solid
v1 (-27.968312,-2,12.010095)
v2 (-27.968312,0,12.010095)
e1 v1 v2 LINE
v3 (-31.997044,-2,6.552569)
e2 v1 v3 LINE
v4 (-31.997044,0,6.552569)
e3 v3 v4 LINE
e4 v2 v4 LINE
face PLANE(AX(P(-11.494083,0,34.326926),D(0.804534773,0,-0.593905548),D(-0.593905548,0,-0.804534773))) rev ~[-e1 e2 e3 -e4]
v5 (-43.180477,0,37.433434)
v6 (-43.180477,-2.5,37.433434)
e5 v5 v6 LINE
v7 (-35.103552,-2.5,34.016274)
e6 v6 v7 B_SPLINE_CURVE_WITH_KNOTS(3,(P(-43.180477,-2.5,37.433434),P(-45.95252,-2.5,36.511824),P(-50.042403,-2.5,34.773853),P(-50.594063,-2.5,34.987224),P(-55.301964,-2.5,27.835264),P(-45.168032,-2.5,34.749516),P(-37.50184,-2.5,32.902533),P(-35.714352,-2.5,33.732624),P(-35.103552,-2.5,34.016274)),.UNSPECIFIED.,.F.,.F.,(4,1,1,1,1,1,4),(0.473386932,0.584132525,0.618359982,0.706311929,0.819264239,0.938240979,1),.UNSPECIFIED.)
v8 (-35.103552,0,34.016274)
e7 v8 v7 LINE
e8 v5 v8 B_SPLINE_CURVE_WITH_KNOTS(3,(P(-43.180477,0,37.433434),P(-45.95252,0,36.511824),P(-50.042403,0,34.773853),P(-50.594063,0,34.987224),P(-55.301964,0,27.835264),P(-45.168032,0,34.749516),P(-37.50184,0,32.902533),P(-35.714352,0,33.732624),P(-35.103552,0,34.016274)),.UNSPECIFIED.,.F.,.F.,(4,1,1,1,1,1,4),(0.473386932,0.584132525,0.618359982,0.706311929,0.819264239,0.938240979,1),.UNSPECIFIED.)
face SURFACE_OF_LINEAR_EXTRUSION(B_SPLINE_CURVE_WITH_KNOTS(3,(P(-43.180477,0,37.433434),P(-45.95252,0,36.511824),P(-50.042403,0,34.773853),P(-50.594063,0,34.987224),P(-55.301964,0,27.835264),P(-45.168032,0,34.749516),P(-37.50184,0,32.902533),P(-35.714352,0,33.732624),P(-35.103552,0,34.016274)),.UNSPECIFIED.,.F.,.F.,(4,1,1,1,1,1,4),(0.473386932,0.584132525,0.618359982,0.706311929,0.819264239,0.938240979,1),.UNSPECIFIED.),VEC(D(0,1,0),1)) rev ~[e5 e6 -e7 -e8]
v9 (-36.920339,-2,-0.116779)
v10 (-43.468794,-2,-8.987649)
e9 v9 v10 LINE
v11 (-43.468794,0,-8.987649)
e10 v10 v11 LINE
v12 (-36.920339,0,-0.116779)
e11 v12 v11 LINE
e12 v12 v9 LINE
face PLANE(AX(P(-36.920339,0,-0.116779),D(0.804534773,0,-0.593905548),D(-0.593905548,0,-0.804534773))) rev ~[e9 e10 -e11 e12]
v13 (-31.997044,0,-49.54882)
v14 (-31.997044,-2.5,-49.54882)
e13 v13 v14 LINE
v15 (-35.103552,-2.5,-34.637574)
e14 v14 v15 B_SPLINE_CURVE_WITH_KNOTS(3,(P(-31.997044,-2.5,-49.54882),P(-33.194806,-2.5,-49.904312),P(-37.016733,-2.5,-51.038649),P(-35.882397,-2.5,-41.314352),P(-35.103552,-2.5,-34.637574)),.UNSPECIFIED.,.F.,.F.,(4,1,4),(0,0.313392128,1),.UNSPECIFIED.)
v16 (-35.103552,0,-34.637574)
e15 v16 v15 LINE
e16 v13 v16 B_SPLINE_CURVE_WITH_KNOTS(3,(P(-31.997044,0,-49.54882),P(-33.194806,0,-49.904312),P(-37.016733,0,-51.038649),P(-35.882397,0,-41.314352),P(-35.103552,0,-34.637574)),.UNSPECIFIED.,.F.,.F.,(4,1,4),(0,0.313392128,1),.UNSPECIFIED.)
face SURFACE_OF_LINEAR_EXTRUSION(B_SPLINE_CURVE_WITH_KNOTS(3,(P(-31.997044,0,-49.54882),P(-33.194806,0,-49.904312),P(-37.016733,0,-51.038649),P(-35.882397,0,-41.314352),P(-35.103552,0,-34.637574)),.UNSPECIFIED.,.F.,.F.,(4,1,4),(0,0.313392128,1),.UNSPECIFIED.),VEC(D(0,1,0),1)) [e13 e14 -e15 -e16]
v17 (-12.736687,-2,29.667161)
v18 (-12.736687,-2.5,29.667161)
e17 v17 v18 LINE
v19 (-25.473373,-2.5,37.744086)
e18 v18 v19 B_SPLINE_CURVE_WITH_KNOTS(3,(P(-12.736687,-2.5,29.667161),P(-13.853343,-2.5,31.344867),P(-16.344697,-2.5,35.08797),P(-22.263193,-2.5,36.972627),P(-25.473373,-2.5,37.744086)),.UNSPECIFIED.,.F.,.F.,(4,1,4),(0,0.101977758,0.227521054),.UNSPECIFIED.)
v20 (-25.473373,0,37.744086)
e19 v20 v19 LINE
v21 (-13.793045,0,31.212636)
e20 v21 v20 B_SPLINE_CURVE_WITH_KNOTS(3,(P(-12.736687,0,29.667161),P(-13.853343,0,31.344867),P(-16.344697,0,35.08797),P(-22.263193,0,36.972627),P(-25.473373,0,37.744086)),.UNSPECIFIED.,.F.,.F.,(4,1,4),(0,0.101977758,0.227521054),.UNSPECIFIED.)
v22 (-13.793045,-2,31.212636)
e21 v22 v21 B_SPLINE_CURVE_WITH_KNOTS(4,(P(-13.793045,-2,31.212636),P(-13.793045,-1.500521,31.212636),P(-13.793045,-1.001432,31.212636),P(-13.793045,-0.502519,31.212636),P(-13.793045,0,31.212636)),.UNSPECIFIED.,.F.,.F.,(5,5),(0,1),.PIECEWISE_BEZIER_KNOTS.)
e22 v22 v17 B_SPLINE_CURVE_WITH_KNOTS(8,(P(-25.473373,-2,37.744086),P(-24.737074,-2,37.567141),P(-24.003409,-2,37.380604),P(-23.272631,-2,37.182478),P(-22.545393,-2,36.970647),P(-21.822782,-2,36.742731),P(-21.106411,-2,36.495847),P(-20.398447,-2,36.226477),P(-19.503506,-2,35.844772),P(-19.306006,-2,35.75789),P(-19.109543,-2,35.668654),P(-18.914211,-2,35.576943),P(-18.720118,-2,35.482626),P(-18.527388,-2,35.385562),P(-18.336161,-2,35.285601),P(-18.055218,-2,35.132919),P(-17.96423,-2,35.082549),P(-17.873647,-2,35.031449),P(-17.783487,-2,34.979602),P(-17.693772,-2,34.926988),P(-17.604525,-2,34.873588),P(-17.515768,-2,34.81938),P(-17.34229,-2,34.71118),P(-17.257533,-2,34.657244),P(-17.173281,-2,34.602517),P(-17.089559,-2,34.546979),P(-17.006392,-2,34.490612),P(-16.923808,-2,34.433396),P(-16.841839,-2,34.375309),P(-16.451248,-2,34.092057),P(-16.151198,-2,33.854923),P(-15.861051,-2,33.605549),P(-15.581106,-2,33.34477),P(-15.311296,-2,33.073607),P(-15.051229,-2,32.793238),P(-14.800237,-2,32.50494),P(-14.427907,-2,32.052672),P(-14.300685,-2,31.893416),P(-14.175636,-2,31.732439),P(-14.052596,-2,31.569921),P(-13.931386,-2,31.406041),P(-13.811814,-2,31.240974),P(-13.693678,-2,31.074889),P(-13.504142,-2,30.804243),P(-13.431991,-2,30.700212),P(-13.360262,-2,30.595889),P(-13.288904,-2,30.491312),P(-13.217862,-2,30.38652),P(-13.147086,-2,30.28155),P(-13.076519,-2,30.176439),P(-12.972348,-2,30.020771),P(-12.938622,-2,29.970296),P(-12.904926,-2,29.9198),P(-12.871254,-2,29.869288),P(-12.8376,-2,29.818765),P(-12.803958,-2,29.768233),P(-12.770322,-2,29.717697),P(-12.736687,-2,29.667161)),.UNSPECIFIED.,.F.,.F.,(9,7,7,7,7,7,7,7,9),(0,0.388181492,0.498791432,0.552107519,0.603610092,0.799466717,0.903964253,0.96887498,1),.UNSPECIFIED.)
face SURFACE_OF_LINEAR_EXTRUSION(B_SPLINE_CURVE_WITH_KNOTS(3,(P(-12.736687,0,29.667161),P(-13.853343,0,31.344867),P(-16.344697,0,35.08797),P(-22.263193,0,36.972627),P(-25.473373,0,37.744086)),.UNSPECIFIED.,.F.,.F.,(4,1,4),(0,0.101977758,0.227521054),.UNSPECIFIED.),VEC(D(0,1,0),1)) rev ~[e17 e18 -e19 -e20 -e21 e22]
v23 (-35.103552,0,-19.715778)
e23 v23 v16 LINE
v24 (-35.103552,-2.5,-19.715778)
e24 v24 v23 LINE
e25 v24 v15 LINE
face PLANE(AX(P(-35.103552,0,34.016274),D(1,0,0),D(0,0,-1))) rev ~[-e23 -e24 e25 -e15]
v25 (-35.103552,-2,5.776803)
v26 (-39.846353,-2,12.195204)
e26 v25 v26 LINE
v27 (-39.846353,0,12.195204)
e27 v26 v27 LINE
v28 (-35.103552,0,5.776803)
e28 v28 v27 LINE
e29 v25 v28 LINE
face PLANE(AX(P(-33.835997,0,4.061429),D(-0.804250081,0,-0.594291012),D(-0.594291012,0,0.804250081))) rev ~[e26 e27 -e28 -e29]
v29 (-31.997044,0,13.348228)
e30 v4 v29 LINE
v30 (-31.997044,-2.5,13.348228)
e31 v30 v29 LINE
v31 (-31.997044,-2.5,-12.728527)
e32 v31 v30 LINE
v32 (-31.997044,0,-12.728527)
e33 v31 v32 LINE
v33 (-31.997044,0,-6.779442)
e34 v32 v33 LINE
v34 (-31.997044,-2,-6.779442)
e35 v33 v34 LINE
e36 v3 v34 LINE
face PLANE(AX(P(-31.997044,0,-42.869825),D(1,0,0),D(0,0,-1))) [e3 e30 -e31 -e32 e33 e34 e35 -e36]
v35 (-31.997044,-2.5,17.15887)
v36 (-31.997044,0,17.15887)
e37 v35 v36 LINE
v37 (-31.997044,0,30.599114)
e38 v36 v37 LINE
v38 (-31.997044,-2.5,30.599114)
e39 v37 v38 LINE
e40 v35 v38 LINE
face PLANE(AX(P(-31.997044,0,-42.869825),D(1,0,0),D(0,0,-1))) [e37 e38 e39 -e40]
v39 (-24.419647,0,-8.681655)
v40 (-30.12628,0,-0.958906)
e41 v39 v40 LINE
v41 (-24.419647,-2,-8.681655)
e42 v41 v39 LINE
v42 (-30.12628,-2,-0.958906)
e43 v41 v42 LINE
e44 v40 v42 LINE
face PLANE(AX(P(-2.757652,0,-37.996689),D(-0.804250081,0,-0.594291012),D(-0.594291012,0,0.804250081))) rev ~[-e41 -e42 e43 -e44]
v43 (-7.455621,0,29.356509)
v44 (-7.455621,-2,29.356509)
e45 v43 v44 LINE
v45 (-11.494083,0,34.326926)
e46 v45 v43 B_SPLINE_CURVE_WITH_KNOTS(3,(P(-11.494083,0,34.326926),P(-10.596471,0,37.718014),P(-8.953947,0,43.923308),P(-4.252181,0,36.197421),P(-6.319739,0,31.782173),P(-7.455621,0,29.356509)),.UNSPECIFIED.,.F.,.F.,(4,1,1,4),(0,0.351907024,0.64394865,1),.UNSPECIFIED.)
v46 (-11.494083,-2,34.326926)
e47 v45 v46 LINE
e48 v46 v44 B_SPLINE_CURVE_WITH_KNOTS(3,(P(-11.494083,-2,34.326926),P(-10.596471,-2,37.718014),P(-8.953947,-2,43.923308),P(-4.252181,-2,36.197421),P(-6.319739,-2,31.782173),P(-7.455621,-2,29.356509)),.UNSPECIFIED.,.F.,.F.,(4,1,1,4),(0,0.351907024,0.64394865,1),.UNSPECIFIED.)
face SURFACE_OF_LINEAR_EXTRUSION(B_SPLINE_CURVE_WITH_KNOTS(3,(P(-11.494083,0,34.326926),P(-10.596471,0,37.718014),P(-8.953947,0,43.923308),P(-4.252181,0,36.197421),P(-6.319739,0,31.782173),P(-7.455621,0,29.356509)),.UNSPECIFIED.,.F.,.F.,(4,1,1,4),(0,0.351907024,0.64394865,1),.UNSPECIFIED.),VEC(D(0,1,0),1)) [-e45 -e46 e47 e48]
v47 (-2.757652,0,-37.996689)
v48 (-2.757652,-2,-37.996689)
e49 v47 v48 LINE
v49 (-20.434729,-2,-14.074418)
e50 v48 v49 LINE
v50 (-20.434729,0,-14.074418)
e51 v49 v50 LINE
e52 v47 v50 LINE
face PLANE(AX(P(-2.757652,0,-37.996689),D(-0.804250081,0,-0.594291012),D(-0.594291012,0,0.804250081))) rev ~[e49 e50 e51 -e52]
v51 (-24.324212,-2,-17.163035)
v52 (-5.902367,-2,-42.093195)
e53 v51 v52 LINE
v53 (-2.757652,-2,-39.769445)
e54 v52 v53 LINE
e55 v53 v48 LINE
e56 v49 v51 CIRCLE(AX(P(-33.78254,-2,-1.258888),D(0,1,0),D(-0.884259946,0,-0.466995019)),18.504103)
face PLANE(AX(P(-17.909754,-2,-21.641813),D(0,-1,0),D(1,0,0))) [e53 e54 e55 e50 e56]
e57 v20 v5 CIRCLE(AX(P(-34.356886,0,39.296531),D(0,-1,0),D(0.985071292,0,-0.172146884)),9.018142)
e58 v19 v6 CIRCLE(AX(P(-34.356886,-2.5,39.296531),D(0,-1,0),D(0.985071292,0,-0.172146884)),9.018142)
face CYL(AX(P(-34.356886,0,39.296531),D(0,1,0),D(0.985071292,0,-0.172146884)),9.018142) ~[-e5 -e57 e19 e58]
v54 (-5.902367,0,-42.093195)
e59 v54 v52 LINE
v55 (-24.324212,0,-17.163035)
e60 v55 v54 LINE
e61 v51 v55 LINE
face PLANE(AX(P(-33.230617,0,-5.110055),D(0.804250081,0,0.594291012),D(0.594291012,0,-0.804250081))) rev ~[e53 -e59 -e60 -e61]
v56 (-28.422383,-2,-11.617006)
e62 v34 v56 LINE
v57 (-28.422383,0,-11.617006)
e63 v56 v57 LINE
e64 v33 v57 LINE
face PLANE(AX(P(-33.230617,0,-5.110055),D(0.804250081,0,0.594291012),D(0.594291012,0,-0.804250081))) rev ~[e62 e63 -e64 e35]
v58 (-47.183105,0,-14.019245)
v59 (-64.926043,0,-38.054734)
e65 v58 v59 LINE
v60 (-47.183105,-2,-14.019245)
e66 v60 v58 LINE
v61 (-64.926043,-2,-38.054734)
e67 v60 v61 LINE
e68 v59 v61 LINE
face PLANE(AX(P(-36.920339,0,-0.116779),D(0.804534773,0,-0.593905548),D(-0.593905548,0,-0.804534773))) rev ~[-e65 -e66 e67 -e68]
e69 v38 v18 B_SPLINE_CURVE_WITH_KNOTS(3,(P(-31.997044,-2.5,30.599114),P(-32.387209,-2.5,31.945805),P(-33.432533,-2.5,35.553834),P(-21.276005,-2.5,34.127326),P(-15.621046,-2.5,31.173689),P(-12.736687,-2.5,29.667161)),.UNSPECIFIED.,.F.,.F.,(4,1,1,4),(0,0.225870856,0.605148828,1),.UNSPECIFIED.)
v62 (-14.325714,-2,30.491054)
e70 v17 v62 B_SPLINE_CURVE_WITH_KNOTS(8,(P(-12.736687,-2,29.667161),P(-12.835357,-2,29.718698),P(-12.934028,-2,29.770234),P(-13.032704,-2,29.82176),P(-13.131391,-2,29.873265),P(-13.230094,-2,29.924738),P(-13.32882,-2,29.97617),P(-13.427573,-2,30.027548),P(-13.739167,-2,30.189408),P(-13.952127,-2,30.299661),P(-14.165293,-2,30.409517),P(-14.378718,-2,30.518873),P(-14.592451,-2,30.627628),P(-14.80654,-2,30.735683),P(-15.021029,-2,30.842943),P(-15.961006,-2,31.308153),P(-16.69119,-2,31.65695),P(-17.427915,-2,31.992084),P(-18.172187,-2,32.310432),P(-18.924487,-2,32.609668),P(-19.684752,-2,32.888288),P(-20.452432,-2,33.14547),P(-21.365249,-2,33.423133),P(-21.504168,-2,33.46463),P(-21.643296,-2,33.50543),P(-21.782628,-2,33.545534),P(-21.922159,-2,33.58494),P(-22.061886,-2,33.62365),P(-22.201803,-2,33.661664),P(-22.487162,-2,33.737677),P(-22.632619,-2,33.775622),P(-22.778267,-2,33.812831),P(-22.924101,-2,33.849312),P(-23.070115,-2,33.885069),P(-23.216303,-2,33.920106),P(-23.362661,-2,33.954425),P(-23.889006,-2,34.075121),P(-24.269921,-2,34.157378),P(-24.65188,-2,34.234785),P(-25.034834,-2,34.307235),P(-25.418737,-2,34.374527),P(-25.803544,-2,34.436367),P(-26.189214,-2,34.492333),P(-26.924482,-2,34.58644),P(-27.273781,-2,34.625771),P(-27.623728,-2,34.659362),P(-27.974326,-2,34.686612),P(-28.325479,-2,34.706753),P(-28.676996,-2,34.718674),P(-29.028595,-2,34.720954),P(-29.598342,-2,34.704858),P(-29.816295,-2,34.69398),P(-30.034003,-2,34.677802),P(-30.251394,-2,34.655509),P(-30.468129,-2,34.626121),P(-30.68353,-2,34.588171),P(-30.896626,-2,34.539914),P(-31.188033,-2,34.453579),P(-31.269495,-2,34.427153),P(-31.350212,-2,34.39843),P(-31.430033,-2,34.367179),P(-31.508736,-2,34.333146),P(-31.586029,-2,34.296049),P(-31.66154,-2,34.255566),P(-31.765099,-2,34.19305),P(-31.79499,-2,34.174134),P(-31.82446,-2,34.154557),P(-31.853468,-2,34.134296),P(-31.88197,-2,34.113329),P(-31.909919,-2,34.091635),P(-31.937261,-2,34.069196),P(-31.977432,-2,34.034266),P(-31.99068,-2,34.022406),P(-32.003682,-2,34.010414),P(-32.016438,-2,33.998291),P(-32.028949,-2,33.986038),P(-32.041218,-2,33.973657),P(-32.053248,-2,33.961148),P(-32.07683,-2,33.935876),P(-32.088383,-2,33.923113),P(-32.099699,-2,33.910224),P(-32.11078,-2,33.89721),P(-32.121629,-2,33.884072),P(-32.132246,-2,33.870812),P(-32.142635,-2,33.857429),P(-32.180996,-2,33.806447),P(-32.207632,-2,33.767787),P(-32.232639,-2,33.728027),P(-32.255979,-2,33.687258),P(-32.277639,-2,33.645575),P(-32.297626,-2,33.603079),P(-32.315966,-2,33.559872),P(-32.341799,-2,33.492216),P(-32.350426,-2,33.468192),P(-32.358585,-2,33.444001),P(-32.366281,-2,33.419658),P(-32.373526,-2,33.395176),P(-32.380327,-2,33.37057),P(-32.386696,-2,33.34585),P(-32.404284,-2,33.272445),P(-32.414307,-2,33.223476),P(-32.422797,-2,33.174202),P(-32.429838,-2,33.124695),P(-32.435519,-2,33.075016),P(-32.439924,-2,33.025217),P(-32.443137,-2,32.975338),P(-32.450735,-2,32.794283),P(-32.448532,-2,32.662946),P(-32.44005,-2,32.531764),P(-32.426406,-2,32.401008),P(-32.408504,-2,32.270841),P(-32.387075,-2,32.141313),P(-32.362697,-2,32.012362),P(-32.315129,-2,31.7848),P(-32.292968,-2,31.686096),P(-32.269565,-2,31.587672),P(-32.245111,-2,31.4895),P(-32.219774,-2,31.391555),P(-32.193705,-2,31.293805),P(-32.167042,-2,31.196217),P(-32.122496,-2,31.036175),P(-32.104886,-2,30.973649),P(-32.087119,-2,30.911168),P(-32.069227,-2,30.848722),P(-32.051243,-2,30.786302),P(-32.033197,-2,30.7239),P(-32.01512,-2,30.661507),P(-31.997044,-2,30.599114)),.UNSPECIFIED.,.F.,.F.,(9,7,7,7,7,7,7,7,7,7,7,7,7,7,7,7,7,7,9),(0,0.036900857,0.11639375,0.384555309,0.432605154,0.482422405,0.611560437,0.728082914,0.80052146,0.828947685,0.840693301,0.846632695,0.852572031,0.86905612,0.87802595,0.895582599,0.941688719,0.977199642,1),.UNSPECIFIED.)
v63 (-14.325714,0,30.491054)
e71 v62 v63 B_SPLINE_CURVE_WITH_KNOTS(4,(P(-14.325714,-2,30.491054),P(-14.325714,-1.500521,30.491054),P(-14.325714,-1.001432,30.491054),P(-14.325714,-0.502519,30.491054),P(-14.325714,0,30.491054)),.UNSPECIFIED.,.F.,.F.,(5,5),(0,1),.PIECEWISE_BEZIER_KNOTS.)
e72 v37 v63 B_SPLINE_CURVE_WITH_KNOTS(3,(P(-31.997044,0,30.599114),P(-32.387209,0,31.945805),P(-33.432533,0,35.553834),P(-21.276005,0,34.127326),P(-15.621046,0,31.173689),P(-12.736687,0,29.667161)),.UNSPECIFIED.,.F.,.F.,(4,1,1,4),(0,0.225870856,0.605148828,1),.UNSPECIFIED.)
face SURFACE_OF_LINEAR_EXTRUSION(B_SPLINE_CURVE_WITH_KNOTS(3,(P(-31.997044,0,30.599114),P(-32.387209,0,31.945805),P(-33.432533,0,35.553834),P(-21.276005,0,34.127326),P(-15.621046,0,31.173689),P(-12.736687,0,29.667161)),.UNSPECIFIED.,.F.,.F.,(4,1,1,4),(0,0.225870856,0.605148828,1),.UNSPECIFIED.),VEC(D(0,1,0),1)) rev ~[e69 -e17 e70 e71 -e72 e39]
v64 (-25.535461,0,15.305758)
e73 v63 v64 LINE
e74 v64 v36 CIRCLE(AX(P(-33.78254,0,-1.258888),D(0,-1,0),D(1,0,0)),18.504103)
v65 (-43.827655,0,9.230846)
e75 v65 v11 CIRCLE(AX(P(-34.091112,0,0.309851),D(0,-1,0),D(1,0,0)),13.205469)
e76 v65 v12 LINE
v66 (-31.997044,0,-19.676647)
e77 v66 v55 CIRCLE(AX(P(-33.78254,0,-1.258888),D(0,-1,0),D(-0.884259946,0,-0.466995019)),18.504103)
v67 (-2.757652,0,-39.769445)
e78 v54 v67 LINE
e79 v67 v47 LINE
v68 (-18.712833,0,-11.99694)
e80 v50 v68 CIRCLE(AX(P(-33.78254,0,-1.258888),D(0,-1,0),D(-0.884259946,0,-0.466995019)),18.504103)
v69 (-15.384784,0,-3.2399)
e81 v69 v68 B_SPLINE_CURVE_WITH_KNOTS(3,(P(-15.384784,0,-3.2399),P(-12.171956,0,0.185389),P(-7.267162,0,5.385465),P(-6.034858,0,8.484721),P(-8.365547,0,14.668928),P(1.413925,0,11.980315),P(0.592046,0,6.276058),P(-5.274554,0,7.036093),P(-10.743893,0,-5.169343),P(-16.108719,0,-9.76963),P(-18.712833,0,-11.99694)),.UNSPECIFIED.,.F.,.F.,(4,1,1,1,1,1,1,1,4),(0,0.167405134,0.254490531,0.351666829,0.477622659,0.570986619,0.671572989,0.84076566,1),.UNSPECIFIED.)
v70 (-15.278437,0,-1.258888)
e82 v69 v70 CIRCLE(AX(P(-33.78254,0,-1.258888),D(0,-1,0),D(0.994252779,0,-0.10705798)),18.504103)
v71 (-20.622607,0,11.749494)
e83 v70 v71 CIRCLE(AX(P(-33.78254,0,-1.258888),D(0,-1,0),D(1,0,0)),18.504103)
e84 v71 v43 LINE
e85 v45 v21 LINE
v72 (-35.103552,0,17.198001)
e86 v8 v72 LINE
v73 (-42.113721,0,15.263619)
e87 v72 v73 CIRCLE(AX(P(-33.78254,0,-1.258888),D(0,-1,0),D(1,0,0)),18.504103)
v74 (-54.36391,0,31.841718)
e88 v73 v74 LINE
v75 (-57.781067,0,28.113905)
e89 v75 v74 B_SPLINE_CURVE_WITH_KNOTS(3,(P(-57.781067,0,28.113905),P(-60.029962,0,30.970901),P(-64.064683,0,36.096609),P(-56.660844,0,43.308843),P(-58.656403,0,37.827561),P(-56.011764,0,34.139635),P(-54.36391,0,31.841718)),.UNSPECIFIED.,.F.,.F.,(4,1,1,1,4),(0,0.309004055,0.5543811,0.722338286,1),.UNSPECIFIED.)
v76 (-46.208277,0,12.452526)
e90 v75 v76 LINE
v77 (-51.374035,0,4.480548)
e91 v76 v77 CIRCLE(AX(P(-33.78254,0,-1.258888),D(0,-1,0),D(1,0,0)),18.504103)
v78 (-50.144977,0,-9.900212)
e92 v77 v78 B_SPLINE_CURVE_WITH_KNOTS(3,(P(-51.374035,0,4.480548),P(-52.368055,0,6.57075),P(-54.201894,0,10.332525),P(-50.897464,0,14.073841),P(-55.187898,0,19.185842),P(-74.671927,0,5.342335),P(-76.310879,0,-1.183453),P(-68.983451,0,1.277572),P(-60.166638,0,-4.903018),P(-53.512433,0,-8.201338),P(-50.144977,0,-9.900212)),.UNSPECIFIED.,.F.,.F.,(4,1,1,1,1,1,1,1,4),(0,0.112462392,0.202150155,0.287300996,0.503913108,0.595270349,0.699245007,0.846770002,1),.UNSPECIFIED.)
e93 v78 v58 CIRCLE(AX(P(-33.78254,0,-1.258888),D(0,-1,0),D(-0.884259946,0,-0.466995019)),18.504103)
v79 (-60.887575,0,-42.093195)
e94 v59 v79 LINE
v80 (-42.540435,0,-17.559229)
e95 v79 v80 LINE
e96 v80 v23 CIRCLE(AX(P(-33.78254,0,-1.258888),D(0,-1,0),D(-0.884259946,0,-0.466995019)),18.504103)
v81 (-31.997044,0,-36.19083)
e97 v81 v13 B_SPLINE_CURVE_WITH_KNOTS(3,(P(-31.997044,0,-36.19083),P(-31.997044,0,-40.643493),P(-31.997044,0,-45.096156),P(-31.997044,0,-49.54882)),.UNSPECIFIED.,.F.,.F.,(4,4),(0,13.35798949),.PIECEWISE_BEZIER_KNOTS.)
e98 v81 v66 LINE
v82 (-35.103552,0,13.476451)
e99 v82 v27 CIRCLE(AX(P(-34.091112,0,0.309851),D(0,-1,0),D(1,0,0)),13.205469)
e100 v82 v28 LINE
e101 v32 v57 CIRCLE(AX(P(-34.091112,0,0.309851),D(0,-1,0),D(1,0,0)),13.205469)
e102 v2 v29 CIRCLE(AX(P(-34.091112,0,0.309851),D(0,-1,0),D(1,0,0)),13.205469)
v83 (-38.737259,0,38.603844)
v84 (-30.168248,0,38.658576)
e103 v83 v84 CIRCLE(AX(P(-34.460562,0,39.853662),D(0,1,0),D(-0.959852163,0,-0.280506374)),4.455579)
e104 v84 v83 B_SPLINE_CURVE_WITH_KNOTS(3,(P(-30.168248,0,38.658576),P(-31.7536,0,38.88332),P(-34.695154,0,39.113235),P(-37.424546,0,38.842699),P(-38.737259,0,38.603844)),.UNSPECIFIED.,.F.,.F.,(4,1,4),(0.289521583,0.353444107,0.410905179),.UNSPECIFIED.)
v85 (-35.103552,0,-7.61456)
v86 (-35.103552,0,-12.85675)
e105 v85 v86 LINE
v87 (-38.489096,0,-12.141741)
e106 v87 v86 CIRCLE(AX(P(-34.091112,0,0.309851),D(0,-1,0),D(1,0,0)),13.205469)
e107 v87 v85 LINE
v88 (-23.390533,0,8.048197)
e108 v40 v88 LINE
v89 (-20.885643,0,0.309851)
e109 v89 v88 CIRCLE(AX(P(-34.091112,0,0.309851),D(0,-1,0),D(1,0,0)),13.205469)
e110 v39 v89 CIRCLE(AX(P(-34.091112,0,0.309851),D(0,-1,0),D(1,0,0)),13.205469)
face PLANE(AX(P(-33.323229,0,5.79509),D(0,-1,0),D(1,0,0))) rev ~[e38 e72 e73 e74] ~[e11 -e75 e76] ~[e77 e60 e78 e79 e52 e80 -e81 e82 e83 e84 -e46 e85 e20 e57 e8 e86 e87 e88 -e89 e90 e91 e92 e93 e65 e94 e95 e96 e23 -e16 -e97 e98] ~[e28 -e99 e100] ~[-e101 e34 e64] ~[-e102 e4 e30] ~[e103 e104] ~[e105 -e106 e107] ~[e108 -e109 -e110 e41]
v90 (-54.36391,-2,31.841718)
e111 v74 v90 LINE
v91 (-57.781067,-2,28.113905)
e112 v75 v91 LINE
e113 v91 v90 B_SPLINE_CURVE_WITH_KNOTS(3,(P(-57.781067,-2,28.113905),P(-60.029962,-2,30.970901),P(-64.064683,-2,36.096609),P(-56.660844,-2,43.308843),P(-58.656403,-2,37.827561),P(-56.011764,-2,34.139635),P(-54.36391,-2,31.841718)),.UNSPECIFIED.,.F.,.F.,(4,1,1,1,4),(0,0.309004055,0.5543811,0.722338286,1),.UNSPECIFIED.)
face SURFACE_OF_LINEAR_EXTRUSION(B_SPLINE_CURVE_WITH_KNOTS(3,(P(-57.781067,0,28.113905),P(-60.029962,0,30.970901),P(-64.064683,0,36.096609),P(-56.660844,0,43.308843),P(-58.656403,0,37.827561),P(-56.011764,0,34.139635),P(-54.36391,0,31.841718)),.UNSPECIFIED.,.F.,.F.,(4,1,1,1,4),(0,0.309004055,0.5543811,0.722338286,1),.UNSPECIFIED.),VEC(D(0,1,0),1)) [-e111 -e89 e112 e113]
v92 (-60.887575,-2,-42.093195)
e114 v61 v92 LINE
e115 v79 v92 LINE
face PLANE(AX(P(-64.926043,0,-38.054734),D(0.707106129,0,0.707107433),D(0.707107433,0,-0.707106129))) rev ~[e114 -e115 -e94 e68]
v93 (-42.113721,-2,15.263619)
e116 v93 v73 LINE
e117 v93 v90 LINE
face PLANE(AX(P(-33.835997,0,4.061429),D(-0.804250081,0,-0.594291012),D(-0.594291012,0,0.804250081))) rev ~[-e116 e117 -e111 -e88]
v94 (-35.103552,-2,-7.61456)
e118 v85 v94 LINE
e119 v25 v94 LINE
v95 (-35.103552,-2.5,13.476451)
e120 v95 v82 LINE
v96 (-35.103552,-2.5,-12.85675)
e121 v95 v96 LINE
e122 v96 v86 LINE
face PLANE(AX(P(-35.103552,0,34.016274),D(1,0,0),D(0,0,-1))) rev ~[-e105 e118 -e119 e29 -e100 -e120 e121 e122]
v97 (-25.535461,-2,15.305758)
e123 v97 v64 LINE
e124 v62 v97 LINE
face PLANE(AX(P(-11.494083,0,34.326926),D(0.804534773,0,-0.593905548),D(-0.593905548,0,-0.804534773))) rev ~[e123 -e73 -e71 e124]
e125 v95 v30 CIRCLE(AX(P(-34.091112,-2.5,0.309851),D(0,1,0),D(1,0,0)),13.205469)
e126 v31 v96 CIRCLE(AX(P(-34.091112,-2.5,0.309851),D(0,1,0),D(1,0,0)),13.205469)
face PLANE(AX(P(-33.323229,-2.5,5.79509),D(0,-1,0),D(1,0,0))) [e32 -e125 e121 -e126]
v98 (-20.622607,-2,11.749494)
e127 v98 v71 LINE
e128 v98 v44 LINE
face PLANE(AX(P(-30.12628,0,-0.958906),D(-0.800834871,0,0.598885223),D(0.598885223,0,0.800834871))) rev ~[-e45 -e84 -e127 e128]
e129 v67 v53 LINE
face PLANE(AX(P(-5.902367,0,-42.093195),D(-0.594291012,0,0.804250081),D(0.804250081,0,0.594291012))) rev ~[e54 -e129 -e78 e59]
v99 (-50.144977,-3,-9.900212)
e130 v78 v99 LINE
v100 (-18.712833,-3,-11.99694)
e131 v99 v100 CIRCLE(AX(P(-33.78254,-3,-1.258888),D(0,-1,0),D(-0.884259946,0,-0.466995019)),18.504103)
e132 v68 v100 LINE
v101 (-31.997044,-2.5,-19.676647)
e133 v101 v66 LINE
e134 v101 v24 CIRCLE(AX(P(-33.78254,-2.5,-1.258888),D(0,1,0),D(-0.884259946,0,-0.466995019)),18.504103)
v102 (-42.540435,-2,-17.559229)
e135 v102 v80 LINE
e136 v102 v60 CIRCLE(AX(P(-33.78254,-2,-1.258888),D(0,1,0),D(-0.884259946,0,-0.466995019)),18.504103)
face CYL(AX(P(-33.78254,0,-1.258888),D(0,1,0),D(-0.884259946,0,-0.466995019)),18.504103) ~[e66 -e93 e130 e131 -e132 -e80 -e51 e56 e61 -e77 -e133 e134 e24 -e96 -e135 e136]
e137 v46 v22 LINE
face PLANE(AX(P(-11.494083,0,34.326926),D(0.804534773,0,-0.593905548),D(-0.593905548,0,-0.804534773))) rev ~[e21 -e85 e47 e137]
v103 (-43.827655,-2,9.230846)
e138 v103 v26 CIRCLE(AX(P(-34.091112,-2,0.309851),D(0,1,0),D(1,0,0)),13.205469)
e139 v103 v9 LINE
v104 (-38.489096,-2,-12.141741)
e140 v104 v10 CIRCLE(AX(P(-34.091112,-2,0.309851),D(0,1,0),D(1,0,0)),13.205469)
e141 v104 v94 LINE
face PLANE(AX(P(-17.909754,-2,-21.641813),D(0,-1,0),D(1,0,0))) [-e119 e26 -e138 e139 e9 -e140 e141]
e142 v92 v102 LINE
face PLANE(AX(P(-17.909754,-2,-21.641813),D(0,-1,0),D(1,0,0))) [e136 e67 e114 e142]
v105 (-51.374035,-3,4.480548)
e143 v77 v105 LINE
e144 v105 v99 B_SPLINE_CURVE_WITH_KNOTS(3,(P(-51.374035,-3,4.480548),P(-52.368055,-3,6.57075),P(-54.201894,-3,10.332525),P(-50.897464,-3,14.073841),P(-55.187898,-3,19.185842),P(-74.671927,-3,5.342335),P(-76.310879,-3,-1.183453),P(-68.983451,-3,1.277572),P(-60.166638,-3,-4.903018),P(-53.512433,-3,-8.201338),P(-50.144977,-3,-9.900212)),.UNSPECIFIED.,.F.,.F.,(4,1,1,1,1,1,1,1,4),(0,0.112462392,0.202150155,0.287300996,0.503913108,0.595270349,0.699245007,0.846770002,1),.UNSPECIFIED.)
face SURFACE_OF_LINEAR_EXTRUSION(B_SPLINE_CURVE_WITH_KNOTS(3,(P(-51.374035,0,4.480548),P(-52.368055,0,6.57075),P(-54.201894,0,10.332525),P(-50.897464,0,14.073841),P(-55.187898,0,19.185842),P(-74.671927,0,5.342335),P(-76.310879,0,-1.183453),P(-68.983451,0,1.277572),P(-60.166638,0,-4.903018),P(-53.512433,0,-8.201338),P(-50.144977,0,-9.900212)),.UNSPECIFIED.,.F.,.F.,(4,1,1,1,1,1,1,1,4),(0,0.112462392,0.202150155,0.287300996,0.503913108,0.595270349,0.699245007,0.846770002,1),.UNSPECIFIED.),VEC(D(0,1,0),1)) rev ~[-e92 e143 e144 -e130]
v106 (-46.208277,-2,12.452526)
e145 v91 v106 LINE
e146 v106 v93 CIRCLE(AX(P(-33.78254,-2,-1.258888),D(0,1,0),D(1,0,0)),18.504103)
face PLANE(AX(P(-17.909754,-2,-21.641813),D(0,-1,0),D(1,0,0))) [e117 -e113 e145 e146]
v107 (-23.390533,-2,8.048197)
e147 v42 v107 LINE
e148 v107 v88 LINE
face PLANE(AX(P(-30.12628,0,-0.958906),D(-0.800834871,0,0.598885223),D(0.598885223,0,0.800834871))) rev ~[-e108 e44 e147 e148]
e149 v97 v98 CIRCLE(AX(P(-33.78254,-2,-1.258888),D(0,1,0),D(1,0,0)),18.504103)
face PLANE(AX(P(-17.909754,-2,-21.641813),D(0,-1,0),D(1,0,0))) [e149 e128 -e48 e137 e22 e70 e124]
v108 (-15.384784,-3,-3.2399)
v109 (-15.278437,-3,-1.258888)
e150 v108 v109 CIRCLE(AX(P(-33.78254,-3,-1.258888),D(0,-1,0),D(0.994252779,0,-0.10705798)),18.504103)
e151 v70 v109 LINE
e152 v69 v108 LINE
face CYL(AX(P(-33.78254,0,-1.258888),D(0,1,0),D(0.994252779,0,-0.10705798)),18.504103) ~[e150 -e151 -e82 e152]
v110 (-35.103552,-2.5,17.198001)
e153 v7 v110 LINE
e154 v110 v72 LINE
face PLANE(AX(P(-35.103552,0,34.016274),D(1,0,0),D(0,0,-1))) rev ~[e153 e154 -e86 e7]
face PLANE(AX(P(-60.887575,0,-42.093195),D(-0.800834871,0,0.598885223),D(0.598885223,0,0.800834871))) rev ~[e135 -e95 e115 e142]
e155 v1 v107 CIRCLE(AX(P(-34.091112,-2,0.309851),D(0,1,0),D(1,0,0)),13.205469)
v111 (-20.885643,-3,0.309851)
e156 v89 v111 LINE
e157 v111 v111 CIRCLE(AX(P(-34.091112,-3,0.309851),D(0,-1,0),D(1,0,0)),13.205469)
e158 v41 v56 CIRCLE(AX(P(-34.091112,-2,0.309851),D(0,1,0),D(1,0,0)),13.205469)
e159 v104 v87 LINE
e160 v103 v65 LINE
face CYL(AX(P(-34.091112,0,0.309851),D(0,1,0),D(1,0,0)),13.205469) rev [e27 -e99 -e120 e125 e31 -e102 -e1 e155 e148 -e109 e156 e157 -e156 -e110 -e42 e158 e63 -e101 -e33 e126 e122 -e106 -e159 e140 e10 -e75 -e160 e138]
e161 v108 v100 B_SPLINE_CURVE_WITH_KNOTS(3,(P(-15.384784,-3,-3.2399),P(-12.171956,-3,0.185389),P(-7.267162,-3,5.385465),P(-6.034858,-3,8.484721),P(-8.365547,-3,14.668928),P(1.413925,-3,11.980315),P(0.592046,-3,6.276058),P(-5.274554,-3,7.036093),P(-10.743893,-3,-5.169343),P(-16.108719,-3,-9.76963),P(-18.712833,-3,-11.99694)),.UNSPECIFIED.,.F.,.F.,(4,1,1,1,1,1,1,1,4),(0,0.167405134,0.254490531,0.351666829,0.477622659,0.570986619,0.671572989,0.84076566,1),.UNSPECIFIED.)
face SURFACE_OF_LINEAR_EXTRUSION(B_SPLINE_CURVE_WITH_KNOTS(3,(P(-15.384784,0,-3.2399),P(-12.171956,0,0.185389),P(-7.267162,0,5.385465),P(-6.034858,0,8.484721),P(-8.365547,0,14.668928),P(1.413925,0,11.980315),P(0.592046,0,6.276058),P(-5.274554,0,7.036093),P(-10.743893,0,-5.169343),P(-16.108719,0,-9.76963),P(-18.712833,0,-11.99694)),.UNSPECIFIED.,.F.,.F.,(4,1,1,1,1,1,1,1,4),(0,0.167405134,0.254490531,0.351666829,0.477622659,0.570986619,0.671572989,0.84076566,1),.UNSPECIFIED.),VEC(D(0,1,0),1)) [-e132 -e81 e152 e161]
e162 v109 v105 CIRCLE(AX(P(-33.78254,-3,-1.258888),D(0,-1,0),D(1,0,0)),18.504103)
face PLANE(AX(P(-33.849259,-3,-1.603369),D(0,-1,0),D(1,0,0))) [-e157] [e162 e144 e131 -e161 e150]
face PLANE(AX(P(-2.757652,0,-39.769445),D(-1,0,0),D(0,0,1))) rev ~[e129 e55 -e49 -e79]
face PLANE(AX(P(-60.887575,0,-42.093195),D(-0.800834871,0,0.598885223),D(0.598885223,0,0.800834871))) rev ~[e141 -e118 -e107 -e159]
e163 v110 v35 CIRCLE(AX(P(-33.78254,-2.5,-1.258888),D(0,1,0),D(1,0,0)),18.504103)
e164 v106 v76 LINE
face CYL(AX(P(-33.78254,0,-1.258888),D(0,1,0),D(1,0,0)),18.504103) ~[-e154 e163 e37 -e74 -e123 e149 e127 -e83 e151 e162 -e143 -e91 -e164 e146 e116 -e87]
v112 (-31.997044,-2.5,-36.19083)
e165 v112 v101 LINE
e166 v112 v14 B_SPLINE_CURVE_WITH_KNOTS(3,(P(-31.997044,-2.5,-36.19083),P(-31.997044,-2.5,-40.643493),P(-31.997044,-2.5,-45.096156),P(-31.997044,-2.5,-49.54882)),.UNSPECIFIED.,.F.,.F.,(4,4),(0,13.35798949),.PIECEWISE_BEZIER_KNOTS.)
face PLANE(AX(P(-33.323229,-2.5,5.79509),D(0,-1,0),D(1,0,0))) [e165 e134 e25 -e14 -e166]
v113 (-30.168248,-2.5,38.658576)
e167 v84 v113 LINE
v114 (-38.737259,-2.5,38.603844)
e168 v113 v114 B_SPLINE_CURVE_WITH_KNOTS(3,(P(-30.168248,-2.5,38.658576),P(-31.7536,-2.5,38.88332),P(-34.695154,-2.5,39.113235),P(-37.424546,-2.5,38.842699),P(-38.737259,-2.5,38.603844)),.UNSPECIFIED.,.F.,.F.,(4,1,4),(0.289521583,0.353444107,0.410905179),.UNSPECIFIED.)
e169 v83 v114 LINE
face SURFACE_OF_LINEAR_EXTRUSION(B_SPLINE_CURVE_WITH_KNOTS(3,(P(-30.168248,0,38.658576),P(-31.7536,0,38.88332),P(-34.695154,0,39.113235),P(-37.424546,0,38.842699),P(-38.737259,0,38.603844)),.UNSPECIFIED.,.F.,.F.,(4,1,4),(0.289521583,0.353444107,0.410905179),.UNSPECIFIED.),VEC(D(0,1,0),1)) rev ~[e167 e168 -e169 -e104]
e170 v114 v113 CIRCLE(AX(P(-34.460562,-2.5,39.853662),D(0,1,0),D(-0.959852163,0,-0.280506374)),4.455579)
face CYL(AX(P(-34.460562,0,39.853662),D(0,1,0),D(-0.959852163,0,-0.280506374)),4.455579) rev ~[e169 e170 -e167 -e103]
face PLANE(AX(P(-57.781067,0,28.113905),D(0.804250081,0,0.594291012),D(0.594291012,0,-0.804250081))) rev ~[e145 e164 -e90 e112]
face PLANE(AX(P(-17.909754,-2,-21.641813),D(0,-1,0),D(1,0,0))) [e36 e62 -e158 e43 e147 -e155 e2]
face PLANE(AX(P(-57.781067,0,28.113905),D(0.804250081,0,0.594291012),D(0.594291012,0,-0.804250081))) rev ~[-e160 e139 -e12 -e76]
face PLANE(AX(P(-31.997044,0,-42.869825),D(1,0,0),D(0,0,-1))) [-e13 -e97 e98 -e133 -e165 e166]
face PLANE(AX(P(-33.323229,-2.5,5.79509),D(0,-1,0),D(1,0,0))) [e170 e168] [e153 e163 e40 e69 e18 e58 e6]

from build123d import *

# Parameters (mm, degrees)
F2_R     = 13.2054688854
F3_DEPTH = 3
F4_DEPTH = 2.5
F5_DEPTH = 2


with BuildPart() as f3:
    # F2 (on Front) → F3 (new body)
    with BuildSketch(Plane.XZ):
        with BuildLine():
            ThreePointArc((-15.3847838296, -3.2399003873), (-15.3050425825, -2.2508206772), (-15.2784366634, -1.2588884898))
            ThreePointArc((-15.2784366634, -1.2588884898), (-30.8767703261, 17.015638484), (-51.3740349167, 4.4805479987))
            ThreePointArc((-51.3740349167, 4.4805479987), (-52.2194307534, -2.834605339), (-50.1449770124, -9.9002124716))
            ThreePointArc((-50.1449770124, -9.9002124716), (-35.0141463386, -19.7219591321), (-18.7128326092, -11.9969403594))
            ThreePointArc((-18.7128326092, -11.9969403594), (-16.485453054, -7.8325193699), (-15.3847838296, -3.2399003873))
        make_face()
        with Locations((-34.0911123708, 0.3098506963)):
            Circle(F2_R, mode=Mode.SUBTRACT)
        with BuildLine():
            ThreePointArc((-50.1449770124, -9.9002124716), (-52.2194307534, -2.834605339), (-51.3740349167, 4.4805479987))
            add(Edge.make_bspline(
                [(-51.3740349167, 4.4805479987), (-52.3680547399, 6.5707496239), (-54.201893936, 10.3325248331), (-50.8974635563, 14.0738410253), (-55.1878979063, 19.1858420251), (-74.6719274842, 5.3423351664), (-76.3108787052, -1.1834532248), (-68.9834514087, 1.2775717516), (-60.1666380235, -4.9030181438), (-53.5124329283, -8.2013382011), (-50.1449770124, -9.9002124716)],
                knots=[0, 0, 0, 0, 0.1124623919, 0.2021501547, 0.2873009958, 0.5039131078, 0.5952703485, 0.6992450068, 0.8467700016, 1, 1, 1, 1], degree=3))
        make_face()
        with BuildLine():
            add(Edge.make_bspline(
                [(-15.3847838296, -3.2399003873), (-12.1719558701, 0.1853894612), (-7.2671621875, 5.3854653101), (-6.0348582593, 8.4847210704), (-8.36554664, 14.6689277097), (1.4139252217, 11.9803145188), (0.5920460484, 6.2760583223), (-5.2745535706, 7.0360930413), (-10.7438932887, -5.1693428817), (-16.1087188532, -9.7696303201), (-18.7128326092, -11.9969403594)],
                knots=[0, 0, 0, 0, 0.1674051345, 0.2544905308, 0.3516668293, 0.4776226585, 0.5709866186, 0.6715729885, 0.8407656595, 1, 1, 1, 1], degree=3))
            ThreePointArc((-15.3847838296, -3.2399003873), (-16.485453054, -7.8325193699), (-18.7128326092, -11.9969403594))
        make_face()
    extrude(amount=F3_DEPTH)

    # F1 (on Front) → F4 (join)
    with BuildSketch(Plane.XZ):
        with BuildLine():
            add(Edge.make_bspline(
                [(-31.9970436394, 30.5991135538), (-32.3872090202, 31.9458048547), (-33.4325325608, 35.5538341366), (-21.2760052018, 34.1273260291), (-15.6210464463, 31.173689107), (-12.7366865054, 29.6671614051)],
                knots=[0, 0, 0, 0, 0.225870856, 0.605148828, 1, 1, 1, 1], degree=3))
            add(Edge.make_bspline(
                [(-12.7366865054, 29.6671614051), (-13.8533425769, 31.3448666791), (-16.3446972796, 35.0879698878), (-22.2631929118, 36.9726268905), (-25.4733730108, 37.7440862358)],
                knots=[0, 0, 0, 0, 0.101977758, 0.2275210545, 0.2275210545, 0.2275210545, 0.2275210545], degree=3))
            add(Edge.make_bspline(
                [(-25.4733730108, 37.7440862358), (-27.0587452883, 38.1250774019), (-28.6305637098, 38.4405897044), (-30.168247991, 38.6585758672)],
                knots=[0.2275210545, 0.2275210545, 0.2275210545, 0.2275210545, 0.2895215828, 0.2895215828, 0.2895215828, 0.2895215828], degree=3))
            add(Edge.make_bspline(
                [(-30.168247991, 38.6585758672), (-31.7535999845, 38.8833195302), (-34.6951536522, 39.1132352224), (-37.4245462352, 38.8426991605), (-38.7372592587, 38.6038438549)],
                knots=[0.2895215828, 0.2895215828, 0.2895215828, 0.2895215828, 0.3534441073, 0.4109051789, 0.4109051789, 0.4109051789, 0.4109051789], degree=3))
            add(Edge.make_bspline(
                [(-38.7372592587, 38.6038438549), (-40.1646710441, 38.344118483), (-41.6165130459, 37.9533992382), (-43.1804768741, 37.4334342778)],
                knots=[0.4109051789, 0.4109051789, 0.4109051789, 0.4109051789, 0.4733869319, 0.4733869319, 0.4733869319, 0.4733869319], degree=3))
            add(Edge.make_bspline(
                [(-43.1804768741, 37.4334342778), (-45.9525198153, 36.5118239616), (-50.0424034446, 34.7738525116), (-50.5940634003, 34.9872243163), (-55.3019640415, 27.835264471), (-45.1680315511, 34.7495162478), (-37.5018395372, 32.9025333544), (-35.7143523525, 33.732624403), (-35.1035520434, 34.0162739158)],
                knots=[0.4733869319, 0.4733869319, 0.4733869319, 0.4733869319, 0.5841325253, 0.6183599816, 0.7063119286, 0.8192642394, 0.9382409791, 1, 1, 1, 1], degree=3))
            Line((-35.1035520434, 34.0162739158), (-35.1035520434, -34.6375741065))
            add(Edge.make_bspline(
                [(-31.9970436394, -49.5488196611), (-33.1948056541, -49.9043118485), (-37.0167332234, -51.0386485322), (-35.8823965398, -41.3143523875), (-35.1035520434, -34.6375741065)],
                knots=[0, 0, 0, 0, 0.3133921282, 1, 1, 1, 1], degree=3))
            add(Edge.make_bspline(
                [(-31.9970436394, -36.1908301711), (-31.9970436394, -40.6434933345), (-31.9970436394, -45.0961564978), (-31.9970436394, -49.5488196611)],
                knots=[0, 0, 0, 0, 13.35798949, 13.35798949, 13.35798949, 13.35798949], degree=3))
            Line((-31.9970436394, -36.1908301711), (-31.9970436394, 30.5991135538))
        make_face()
        with BuildLine():
            add(Edge.make_bspline(
                [(-25.4733730108, 37.7440862358), (-27.0587452883, 38.1250774019), (-28.6305637098, 38.4405897044), (-30.168247991, 38.6585758672)],
                knots=[0.2275210545, 0.2275210545, 0.2275210545, 0.2275210545, 0.2895215828, 0.2895215828, 0.2895215828, 0.2895215828], degree=3))
            ThreePointArc((-25.4733730108, 37.7440862358), (-34.515075129, 48.3132859169), (-43.1804768741, 37.4334342778))
            add(Edge.make_bspline(
                [(-38.7372592587, 38.6038438549), (-40.1646710441, 38.344118483), (-41.6165130459, 37.9533992382), (-43.1804768741, 37.4334342778)],
                knots=[0.4109051789, 0.4109051789, 0.4109051789, 0.4109051789, 0.4733869319, 0.4733869319, 0.4733869319, 0.4733869319], degree=3))
            ThreePointArc((-38.7372592587, 38.6038438549), (-34.4890197852, 44.3091508698), (-30.168247991, 38.6585758672))
        make_face()
    extrude(amount=F4_DEPTH)

    # F0 (on Front) → F5 (join)
    with BuildSketch(Plane.XZ):
        Polygon((-33.230617407, -5.1100547731), (-5.9023667127, -42.0931950212), (-2.7576516778, -39.7694453272), (-2.7576516778, -37.9966892899), (-30.1262800922, -0.9589061414), align=None)
        Polygon((-36.9203393813, -0.1167785192), (-33.230617407, -5.1100547731), (-30.1262800922, -0.9589061414), (-33.8359969982, 4.0614291208), align=None)
        Polygon((-60.8875751495, -42.0931950212), (-33.230617407, -5.1100547731), (-36.9203393813, -0.1167785192), (-64.9260431528, -38.0547344685), align=None)
        with BuildLine():
            Line((-33.8359969982, 4.0614291208), (-30.1262800922, -0.9589061414))
            Line((-30.1262800922, -0.9589061414), (-7.4556209147, 29.3565094471))
            add(Edge.make_bspline(
                [(-11.49408333, 34.3269258738), (-10.5964713752, 37.7180137795), (-8.9539465952, 43.9233076002), (-4.2521811974, 36.1974213174), (-6.319739343, 31.7821726132), (-7.4556209147, 29.3565094471)],
                knots=[0, 0, 0, 0, 0.3519070237, 0.6439486502, 1, 1, 1, 1], degree=3))
            Line((-11.49408333, 34.3269258738), (-33.8359969982, 4.0614291208))
        make_face()
        with BuildLine():
            Line((-57.7810667455, 28.1139053404), (-36.9203393813, -0.1167785192))
            Line((-36.9203393813, -0.1167785192), (-33.8359969982, 4.0614291208))
            Line((-33.8359969982, 4.0614291208), (-54.3639101088, 31.8417176604))
            add(Edge.make_bspline(
                [(-57.7810667455, 28.1139053404), (-60.0299623158, 30.9709012269), (-64.0646834867, 36.0966091256), (-56.6608437254, 43.3088429394), (-58.6564028855, 37.827560645), (-56.0117641759, 34.1396354952), (-54.3639101088, 31.8417176604)],
                knots=[0, 0, 0, 0, 0.3090040546, 0.5543811004, 0.7223382863, 1, 1, 1, 1], degree=3))
        make_face()
    extrude(amount=F5_DEPTH)


solid = f3.part
